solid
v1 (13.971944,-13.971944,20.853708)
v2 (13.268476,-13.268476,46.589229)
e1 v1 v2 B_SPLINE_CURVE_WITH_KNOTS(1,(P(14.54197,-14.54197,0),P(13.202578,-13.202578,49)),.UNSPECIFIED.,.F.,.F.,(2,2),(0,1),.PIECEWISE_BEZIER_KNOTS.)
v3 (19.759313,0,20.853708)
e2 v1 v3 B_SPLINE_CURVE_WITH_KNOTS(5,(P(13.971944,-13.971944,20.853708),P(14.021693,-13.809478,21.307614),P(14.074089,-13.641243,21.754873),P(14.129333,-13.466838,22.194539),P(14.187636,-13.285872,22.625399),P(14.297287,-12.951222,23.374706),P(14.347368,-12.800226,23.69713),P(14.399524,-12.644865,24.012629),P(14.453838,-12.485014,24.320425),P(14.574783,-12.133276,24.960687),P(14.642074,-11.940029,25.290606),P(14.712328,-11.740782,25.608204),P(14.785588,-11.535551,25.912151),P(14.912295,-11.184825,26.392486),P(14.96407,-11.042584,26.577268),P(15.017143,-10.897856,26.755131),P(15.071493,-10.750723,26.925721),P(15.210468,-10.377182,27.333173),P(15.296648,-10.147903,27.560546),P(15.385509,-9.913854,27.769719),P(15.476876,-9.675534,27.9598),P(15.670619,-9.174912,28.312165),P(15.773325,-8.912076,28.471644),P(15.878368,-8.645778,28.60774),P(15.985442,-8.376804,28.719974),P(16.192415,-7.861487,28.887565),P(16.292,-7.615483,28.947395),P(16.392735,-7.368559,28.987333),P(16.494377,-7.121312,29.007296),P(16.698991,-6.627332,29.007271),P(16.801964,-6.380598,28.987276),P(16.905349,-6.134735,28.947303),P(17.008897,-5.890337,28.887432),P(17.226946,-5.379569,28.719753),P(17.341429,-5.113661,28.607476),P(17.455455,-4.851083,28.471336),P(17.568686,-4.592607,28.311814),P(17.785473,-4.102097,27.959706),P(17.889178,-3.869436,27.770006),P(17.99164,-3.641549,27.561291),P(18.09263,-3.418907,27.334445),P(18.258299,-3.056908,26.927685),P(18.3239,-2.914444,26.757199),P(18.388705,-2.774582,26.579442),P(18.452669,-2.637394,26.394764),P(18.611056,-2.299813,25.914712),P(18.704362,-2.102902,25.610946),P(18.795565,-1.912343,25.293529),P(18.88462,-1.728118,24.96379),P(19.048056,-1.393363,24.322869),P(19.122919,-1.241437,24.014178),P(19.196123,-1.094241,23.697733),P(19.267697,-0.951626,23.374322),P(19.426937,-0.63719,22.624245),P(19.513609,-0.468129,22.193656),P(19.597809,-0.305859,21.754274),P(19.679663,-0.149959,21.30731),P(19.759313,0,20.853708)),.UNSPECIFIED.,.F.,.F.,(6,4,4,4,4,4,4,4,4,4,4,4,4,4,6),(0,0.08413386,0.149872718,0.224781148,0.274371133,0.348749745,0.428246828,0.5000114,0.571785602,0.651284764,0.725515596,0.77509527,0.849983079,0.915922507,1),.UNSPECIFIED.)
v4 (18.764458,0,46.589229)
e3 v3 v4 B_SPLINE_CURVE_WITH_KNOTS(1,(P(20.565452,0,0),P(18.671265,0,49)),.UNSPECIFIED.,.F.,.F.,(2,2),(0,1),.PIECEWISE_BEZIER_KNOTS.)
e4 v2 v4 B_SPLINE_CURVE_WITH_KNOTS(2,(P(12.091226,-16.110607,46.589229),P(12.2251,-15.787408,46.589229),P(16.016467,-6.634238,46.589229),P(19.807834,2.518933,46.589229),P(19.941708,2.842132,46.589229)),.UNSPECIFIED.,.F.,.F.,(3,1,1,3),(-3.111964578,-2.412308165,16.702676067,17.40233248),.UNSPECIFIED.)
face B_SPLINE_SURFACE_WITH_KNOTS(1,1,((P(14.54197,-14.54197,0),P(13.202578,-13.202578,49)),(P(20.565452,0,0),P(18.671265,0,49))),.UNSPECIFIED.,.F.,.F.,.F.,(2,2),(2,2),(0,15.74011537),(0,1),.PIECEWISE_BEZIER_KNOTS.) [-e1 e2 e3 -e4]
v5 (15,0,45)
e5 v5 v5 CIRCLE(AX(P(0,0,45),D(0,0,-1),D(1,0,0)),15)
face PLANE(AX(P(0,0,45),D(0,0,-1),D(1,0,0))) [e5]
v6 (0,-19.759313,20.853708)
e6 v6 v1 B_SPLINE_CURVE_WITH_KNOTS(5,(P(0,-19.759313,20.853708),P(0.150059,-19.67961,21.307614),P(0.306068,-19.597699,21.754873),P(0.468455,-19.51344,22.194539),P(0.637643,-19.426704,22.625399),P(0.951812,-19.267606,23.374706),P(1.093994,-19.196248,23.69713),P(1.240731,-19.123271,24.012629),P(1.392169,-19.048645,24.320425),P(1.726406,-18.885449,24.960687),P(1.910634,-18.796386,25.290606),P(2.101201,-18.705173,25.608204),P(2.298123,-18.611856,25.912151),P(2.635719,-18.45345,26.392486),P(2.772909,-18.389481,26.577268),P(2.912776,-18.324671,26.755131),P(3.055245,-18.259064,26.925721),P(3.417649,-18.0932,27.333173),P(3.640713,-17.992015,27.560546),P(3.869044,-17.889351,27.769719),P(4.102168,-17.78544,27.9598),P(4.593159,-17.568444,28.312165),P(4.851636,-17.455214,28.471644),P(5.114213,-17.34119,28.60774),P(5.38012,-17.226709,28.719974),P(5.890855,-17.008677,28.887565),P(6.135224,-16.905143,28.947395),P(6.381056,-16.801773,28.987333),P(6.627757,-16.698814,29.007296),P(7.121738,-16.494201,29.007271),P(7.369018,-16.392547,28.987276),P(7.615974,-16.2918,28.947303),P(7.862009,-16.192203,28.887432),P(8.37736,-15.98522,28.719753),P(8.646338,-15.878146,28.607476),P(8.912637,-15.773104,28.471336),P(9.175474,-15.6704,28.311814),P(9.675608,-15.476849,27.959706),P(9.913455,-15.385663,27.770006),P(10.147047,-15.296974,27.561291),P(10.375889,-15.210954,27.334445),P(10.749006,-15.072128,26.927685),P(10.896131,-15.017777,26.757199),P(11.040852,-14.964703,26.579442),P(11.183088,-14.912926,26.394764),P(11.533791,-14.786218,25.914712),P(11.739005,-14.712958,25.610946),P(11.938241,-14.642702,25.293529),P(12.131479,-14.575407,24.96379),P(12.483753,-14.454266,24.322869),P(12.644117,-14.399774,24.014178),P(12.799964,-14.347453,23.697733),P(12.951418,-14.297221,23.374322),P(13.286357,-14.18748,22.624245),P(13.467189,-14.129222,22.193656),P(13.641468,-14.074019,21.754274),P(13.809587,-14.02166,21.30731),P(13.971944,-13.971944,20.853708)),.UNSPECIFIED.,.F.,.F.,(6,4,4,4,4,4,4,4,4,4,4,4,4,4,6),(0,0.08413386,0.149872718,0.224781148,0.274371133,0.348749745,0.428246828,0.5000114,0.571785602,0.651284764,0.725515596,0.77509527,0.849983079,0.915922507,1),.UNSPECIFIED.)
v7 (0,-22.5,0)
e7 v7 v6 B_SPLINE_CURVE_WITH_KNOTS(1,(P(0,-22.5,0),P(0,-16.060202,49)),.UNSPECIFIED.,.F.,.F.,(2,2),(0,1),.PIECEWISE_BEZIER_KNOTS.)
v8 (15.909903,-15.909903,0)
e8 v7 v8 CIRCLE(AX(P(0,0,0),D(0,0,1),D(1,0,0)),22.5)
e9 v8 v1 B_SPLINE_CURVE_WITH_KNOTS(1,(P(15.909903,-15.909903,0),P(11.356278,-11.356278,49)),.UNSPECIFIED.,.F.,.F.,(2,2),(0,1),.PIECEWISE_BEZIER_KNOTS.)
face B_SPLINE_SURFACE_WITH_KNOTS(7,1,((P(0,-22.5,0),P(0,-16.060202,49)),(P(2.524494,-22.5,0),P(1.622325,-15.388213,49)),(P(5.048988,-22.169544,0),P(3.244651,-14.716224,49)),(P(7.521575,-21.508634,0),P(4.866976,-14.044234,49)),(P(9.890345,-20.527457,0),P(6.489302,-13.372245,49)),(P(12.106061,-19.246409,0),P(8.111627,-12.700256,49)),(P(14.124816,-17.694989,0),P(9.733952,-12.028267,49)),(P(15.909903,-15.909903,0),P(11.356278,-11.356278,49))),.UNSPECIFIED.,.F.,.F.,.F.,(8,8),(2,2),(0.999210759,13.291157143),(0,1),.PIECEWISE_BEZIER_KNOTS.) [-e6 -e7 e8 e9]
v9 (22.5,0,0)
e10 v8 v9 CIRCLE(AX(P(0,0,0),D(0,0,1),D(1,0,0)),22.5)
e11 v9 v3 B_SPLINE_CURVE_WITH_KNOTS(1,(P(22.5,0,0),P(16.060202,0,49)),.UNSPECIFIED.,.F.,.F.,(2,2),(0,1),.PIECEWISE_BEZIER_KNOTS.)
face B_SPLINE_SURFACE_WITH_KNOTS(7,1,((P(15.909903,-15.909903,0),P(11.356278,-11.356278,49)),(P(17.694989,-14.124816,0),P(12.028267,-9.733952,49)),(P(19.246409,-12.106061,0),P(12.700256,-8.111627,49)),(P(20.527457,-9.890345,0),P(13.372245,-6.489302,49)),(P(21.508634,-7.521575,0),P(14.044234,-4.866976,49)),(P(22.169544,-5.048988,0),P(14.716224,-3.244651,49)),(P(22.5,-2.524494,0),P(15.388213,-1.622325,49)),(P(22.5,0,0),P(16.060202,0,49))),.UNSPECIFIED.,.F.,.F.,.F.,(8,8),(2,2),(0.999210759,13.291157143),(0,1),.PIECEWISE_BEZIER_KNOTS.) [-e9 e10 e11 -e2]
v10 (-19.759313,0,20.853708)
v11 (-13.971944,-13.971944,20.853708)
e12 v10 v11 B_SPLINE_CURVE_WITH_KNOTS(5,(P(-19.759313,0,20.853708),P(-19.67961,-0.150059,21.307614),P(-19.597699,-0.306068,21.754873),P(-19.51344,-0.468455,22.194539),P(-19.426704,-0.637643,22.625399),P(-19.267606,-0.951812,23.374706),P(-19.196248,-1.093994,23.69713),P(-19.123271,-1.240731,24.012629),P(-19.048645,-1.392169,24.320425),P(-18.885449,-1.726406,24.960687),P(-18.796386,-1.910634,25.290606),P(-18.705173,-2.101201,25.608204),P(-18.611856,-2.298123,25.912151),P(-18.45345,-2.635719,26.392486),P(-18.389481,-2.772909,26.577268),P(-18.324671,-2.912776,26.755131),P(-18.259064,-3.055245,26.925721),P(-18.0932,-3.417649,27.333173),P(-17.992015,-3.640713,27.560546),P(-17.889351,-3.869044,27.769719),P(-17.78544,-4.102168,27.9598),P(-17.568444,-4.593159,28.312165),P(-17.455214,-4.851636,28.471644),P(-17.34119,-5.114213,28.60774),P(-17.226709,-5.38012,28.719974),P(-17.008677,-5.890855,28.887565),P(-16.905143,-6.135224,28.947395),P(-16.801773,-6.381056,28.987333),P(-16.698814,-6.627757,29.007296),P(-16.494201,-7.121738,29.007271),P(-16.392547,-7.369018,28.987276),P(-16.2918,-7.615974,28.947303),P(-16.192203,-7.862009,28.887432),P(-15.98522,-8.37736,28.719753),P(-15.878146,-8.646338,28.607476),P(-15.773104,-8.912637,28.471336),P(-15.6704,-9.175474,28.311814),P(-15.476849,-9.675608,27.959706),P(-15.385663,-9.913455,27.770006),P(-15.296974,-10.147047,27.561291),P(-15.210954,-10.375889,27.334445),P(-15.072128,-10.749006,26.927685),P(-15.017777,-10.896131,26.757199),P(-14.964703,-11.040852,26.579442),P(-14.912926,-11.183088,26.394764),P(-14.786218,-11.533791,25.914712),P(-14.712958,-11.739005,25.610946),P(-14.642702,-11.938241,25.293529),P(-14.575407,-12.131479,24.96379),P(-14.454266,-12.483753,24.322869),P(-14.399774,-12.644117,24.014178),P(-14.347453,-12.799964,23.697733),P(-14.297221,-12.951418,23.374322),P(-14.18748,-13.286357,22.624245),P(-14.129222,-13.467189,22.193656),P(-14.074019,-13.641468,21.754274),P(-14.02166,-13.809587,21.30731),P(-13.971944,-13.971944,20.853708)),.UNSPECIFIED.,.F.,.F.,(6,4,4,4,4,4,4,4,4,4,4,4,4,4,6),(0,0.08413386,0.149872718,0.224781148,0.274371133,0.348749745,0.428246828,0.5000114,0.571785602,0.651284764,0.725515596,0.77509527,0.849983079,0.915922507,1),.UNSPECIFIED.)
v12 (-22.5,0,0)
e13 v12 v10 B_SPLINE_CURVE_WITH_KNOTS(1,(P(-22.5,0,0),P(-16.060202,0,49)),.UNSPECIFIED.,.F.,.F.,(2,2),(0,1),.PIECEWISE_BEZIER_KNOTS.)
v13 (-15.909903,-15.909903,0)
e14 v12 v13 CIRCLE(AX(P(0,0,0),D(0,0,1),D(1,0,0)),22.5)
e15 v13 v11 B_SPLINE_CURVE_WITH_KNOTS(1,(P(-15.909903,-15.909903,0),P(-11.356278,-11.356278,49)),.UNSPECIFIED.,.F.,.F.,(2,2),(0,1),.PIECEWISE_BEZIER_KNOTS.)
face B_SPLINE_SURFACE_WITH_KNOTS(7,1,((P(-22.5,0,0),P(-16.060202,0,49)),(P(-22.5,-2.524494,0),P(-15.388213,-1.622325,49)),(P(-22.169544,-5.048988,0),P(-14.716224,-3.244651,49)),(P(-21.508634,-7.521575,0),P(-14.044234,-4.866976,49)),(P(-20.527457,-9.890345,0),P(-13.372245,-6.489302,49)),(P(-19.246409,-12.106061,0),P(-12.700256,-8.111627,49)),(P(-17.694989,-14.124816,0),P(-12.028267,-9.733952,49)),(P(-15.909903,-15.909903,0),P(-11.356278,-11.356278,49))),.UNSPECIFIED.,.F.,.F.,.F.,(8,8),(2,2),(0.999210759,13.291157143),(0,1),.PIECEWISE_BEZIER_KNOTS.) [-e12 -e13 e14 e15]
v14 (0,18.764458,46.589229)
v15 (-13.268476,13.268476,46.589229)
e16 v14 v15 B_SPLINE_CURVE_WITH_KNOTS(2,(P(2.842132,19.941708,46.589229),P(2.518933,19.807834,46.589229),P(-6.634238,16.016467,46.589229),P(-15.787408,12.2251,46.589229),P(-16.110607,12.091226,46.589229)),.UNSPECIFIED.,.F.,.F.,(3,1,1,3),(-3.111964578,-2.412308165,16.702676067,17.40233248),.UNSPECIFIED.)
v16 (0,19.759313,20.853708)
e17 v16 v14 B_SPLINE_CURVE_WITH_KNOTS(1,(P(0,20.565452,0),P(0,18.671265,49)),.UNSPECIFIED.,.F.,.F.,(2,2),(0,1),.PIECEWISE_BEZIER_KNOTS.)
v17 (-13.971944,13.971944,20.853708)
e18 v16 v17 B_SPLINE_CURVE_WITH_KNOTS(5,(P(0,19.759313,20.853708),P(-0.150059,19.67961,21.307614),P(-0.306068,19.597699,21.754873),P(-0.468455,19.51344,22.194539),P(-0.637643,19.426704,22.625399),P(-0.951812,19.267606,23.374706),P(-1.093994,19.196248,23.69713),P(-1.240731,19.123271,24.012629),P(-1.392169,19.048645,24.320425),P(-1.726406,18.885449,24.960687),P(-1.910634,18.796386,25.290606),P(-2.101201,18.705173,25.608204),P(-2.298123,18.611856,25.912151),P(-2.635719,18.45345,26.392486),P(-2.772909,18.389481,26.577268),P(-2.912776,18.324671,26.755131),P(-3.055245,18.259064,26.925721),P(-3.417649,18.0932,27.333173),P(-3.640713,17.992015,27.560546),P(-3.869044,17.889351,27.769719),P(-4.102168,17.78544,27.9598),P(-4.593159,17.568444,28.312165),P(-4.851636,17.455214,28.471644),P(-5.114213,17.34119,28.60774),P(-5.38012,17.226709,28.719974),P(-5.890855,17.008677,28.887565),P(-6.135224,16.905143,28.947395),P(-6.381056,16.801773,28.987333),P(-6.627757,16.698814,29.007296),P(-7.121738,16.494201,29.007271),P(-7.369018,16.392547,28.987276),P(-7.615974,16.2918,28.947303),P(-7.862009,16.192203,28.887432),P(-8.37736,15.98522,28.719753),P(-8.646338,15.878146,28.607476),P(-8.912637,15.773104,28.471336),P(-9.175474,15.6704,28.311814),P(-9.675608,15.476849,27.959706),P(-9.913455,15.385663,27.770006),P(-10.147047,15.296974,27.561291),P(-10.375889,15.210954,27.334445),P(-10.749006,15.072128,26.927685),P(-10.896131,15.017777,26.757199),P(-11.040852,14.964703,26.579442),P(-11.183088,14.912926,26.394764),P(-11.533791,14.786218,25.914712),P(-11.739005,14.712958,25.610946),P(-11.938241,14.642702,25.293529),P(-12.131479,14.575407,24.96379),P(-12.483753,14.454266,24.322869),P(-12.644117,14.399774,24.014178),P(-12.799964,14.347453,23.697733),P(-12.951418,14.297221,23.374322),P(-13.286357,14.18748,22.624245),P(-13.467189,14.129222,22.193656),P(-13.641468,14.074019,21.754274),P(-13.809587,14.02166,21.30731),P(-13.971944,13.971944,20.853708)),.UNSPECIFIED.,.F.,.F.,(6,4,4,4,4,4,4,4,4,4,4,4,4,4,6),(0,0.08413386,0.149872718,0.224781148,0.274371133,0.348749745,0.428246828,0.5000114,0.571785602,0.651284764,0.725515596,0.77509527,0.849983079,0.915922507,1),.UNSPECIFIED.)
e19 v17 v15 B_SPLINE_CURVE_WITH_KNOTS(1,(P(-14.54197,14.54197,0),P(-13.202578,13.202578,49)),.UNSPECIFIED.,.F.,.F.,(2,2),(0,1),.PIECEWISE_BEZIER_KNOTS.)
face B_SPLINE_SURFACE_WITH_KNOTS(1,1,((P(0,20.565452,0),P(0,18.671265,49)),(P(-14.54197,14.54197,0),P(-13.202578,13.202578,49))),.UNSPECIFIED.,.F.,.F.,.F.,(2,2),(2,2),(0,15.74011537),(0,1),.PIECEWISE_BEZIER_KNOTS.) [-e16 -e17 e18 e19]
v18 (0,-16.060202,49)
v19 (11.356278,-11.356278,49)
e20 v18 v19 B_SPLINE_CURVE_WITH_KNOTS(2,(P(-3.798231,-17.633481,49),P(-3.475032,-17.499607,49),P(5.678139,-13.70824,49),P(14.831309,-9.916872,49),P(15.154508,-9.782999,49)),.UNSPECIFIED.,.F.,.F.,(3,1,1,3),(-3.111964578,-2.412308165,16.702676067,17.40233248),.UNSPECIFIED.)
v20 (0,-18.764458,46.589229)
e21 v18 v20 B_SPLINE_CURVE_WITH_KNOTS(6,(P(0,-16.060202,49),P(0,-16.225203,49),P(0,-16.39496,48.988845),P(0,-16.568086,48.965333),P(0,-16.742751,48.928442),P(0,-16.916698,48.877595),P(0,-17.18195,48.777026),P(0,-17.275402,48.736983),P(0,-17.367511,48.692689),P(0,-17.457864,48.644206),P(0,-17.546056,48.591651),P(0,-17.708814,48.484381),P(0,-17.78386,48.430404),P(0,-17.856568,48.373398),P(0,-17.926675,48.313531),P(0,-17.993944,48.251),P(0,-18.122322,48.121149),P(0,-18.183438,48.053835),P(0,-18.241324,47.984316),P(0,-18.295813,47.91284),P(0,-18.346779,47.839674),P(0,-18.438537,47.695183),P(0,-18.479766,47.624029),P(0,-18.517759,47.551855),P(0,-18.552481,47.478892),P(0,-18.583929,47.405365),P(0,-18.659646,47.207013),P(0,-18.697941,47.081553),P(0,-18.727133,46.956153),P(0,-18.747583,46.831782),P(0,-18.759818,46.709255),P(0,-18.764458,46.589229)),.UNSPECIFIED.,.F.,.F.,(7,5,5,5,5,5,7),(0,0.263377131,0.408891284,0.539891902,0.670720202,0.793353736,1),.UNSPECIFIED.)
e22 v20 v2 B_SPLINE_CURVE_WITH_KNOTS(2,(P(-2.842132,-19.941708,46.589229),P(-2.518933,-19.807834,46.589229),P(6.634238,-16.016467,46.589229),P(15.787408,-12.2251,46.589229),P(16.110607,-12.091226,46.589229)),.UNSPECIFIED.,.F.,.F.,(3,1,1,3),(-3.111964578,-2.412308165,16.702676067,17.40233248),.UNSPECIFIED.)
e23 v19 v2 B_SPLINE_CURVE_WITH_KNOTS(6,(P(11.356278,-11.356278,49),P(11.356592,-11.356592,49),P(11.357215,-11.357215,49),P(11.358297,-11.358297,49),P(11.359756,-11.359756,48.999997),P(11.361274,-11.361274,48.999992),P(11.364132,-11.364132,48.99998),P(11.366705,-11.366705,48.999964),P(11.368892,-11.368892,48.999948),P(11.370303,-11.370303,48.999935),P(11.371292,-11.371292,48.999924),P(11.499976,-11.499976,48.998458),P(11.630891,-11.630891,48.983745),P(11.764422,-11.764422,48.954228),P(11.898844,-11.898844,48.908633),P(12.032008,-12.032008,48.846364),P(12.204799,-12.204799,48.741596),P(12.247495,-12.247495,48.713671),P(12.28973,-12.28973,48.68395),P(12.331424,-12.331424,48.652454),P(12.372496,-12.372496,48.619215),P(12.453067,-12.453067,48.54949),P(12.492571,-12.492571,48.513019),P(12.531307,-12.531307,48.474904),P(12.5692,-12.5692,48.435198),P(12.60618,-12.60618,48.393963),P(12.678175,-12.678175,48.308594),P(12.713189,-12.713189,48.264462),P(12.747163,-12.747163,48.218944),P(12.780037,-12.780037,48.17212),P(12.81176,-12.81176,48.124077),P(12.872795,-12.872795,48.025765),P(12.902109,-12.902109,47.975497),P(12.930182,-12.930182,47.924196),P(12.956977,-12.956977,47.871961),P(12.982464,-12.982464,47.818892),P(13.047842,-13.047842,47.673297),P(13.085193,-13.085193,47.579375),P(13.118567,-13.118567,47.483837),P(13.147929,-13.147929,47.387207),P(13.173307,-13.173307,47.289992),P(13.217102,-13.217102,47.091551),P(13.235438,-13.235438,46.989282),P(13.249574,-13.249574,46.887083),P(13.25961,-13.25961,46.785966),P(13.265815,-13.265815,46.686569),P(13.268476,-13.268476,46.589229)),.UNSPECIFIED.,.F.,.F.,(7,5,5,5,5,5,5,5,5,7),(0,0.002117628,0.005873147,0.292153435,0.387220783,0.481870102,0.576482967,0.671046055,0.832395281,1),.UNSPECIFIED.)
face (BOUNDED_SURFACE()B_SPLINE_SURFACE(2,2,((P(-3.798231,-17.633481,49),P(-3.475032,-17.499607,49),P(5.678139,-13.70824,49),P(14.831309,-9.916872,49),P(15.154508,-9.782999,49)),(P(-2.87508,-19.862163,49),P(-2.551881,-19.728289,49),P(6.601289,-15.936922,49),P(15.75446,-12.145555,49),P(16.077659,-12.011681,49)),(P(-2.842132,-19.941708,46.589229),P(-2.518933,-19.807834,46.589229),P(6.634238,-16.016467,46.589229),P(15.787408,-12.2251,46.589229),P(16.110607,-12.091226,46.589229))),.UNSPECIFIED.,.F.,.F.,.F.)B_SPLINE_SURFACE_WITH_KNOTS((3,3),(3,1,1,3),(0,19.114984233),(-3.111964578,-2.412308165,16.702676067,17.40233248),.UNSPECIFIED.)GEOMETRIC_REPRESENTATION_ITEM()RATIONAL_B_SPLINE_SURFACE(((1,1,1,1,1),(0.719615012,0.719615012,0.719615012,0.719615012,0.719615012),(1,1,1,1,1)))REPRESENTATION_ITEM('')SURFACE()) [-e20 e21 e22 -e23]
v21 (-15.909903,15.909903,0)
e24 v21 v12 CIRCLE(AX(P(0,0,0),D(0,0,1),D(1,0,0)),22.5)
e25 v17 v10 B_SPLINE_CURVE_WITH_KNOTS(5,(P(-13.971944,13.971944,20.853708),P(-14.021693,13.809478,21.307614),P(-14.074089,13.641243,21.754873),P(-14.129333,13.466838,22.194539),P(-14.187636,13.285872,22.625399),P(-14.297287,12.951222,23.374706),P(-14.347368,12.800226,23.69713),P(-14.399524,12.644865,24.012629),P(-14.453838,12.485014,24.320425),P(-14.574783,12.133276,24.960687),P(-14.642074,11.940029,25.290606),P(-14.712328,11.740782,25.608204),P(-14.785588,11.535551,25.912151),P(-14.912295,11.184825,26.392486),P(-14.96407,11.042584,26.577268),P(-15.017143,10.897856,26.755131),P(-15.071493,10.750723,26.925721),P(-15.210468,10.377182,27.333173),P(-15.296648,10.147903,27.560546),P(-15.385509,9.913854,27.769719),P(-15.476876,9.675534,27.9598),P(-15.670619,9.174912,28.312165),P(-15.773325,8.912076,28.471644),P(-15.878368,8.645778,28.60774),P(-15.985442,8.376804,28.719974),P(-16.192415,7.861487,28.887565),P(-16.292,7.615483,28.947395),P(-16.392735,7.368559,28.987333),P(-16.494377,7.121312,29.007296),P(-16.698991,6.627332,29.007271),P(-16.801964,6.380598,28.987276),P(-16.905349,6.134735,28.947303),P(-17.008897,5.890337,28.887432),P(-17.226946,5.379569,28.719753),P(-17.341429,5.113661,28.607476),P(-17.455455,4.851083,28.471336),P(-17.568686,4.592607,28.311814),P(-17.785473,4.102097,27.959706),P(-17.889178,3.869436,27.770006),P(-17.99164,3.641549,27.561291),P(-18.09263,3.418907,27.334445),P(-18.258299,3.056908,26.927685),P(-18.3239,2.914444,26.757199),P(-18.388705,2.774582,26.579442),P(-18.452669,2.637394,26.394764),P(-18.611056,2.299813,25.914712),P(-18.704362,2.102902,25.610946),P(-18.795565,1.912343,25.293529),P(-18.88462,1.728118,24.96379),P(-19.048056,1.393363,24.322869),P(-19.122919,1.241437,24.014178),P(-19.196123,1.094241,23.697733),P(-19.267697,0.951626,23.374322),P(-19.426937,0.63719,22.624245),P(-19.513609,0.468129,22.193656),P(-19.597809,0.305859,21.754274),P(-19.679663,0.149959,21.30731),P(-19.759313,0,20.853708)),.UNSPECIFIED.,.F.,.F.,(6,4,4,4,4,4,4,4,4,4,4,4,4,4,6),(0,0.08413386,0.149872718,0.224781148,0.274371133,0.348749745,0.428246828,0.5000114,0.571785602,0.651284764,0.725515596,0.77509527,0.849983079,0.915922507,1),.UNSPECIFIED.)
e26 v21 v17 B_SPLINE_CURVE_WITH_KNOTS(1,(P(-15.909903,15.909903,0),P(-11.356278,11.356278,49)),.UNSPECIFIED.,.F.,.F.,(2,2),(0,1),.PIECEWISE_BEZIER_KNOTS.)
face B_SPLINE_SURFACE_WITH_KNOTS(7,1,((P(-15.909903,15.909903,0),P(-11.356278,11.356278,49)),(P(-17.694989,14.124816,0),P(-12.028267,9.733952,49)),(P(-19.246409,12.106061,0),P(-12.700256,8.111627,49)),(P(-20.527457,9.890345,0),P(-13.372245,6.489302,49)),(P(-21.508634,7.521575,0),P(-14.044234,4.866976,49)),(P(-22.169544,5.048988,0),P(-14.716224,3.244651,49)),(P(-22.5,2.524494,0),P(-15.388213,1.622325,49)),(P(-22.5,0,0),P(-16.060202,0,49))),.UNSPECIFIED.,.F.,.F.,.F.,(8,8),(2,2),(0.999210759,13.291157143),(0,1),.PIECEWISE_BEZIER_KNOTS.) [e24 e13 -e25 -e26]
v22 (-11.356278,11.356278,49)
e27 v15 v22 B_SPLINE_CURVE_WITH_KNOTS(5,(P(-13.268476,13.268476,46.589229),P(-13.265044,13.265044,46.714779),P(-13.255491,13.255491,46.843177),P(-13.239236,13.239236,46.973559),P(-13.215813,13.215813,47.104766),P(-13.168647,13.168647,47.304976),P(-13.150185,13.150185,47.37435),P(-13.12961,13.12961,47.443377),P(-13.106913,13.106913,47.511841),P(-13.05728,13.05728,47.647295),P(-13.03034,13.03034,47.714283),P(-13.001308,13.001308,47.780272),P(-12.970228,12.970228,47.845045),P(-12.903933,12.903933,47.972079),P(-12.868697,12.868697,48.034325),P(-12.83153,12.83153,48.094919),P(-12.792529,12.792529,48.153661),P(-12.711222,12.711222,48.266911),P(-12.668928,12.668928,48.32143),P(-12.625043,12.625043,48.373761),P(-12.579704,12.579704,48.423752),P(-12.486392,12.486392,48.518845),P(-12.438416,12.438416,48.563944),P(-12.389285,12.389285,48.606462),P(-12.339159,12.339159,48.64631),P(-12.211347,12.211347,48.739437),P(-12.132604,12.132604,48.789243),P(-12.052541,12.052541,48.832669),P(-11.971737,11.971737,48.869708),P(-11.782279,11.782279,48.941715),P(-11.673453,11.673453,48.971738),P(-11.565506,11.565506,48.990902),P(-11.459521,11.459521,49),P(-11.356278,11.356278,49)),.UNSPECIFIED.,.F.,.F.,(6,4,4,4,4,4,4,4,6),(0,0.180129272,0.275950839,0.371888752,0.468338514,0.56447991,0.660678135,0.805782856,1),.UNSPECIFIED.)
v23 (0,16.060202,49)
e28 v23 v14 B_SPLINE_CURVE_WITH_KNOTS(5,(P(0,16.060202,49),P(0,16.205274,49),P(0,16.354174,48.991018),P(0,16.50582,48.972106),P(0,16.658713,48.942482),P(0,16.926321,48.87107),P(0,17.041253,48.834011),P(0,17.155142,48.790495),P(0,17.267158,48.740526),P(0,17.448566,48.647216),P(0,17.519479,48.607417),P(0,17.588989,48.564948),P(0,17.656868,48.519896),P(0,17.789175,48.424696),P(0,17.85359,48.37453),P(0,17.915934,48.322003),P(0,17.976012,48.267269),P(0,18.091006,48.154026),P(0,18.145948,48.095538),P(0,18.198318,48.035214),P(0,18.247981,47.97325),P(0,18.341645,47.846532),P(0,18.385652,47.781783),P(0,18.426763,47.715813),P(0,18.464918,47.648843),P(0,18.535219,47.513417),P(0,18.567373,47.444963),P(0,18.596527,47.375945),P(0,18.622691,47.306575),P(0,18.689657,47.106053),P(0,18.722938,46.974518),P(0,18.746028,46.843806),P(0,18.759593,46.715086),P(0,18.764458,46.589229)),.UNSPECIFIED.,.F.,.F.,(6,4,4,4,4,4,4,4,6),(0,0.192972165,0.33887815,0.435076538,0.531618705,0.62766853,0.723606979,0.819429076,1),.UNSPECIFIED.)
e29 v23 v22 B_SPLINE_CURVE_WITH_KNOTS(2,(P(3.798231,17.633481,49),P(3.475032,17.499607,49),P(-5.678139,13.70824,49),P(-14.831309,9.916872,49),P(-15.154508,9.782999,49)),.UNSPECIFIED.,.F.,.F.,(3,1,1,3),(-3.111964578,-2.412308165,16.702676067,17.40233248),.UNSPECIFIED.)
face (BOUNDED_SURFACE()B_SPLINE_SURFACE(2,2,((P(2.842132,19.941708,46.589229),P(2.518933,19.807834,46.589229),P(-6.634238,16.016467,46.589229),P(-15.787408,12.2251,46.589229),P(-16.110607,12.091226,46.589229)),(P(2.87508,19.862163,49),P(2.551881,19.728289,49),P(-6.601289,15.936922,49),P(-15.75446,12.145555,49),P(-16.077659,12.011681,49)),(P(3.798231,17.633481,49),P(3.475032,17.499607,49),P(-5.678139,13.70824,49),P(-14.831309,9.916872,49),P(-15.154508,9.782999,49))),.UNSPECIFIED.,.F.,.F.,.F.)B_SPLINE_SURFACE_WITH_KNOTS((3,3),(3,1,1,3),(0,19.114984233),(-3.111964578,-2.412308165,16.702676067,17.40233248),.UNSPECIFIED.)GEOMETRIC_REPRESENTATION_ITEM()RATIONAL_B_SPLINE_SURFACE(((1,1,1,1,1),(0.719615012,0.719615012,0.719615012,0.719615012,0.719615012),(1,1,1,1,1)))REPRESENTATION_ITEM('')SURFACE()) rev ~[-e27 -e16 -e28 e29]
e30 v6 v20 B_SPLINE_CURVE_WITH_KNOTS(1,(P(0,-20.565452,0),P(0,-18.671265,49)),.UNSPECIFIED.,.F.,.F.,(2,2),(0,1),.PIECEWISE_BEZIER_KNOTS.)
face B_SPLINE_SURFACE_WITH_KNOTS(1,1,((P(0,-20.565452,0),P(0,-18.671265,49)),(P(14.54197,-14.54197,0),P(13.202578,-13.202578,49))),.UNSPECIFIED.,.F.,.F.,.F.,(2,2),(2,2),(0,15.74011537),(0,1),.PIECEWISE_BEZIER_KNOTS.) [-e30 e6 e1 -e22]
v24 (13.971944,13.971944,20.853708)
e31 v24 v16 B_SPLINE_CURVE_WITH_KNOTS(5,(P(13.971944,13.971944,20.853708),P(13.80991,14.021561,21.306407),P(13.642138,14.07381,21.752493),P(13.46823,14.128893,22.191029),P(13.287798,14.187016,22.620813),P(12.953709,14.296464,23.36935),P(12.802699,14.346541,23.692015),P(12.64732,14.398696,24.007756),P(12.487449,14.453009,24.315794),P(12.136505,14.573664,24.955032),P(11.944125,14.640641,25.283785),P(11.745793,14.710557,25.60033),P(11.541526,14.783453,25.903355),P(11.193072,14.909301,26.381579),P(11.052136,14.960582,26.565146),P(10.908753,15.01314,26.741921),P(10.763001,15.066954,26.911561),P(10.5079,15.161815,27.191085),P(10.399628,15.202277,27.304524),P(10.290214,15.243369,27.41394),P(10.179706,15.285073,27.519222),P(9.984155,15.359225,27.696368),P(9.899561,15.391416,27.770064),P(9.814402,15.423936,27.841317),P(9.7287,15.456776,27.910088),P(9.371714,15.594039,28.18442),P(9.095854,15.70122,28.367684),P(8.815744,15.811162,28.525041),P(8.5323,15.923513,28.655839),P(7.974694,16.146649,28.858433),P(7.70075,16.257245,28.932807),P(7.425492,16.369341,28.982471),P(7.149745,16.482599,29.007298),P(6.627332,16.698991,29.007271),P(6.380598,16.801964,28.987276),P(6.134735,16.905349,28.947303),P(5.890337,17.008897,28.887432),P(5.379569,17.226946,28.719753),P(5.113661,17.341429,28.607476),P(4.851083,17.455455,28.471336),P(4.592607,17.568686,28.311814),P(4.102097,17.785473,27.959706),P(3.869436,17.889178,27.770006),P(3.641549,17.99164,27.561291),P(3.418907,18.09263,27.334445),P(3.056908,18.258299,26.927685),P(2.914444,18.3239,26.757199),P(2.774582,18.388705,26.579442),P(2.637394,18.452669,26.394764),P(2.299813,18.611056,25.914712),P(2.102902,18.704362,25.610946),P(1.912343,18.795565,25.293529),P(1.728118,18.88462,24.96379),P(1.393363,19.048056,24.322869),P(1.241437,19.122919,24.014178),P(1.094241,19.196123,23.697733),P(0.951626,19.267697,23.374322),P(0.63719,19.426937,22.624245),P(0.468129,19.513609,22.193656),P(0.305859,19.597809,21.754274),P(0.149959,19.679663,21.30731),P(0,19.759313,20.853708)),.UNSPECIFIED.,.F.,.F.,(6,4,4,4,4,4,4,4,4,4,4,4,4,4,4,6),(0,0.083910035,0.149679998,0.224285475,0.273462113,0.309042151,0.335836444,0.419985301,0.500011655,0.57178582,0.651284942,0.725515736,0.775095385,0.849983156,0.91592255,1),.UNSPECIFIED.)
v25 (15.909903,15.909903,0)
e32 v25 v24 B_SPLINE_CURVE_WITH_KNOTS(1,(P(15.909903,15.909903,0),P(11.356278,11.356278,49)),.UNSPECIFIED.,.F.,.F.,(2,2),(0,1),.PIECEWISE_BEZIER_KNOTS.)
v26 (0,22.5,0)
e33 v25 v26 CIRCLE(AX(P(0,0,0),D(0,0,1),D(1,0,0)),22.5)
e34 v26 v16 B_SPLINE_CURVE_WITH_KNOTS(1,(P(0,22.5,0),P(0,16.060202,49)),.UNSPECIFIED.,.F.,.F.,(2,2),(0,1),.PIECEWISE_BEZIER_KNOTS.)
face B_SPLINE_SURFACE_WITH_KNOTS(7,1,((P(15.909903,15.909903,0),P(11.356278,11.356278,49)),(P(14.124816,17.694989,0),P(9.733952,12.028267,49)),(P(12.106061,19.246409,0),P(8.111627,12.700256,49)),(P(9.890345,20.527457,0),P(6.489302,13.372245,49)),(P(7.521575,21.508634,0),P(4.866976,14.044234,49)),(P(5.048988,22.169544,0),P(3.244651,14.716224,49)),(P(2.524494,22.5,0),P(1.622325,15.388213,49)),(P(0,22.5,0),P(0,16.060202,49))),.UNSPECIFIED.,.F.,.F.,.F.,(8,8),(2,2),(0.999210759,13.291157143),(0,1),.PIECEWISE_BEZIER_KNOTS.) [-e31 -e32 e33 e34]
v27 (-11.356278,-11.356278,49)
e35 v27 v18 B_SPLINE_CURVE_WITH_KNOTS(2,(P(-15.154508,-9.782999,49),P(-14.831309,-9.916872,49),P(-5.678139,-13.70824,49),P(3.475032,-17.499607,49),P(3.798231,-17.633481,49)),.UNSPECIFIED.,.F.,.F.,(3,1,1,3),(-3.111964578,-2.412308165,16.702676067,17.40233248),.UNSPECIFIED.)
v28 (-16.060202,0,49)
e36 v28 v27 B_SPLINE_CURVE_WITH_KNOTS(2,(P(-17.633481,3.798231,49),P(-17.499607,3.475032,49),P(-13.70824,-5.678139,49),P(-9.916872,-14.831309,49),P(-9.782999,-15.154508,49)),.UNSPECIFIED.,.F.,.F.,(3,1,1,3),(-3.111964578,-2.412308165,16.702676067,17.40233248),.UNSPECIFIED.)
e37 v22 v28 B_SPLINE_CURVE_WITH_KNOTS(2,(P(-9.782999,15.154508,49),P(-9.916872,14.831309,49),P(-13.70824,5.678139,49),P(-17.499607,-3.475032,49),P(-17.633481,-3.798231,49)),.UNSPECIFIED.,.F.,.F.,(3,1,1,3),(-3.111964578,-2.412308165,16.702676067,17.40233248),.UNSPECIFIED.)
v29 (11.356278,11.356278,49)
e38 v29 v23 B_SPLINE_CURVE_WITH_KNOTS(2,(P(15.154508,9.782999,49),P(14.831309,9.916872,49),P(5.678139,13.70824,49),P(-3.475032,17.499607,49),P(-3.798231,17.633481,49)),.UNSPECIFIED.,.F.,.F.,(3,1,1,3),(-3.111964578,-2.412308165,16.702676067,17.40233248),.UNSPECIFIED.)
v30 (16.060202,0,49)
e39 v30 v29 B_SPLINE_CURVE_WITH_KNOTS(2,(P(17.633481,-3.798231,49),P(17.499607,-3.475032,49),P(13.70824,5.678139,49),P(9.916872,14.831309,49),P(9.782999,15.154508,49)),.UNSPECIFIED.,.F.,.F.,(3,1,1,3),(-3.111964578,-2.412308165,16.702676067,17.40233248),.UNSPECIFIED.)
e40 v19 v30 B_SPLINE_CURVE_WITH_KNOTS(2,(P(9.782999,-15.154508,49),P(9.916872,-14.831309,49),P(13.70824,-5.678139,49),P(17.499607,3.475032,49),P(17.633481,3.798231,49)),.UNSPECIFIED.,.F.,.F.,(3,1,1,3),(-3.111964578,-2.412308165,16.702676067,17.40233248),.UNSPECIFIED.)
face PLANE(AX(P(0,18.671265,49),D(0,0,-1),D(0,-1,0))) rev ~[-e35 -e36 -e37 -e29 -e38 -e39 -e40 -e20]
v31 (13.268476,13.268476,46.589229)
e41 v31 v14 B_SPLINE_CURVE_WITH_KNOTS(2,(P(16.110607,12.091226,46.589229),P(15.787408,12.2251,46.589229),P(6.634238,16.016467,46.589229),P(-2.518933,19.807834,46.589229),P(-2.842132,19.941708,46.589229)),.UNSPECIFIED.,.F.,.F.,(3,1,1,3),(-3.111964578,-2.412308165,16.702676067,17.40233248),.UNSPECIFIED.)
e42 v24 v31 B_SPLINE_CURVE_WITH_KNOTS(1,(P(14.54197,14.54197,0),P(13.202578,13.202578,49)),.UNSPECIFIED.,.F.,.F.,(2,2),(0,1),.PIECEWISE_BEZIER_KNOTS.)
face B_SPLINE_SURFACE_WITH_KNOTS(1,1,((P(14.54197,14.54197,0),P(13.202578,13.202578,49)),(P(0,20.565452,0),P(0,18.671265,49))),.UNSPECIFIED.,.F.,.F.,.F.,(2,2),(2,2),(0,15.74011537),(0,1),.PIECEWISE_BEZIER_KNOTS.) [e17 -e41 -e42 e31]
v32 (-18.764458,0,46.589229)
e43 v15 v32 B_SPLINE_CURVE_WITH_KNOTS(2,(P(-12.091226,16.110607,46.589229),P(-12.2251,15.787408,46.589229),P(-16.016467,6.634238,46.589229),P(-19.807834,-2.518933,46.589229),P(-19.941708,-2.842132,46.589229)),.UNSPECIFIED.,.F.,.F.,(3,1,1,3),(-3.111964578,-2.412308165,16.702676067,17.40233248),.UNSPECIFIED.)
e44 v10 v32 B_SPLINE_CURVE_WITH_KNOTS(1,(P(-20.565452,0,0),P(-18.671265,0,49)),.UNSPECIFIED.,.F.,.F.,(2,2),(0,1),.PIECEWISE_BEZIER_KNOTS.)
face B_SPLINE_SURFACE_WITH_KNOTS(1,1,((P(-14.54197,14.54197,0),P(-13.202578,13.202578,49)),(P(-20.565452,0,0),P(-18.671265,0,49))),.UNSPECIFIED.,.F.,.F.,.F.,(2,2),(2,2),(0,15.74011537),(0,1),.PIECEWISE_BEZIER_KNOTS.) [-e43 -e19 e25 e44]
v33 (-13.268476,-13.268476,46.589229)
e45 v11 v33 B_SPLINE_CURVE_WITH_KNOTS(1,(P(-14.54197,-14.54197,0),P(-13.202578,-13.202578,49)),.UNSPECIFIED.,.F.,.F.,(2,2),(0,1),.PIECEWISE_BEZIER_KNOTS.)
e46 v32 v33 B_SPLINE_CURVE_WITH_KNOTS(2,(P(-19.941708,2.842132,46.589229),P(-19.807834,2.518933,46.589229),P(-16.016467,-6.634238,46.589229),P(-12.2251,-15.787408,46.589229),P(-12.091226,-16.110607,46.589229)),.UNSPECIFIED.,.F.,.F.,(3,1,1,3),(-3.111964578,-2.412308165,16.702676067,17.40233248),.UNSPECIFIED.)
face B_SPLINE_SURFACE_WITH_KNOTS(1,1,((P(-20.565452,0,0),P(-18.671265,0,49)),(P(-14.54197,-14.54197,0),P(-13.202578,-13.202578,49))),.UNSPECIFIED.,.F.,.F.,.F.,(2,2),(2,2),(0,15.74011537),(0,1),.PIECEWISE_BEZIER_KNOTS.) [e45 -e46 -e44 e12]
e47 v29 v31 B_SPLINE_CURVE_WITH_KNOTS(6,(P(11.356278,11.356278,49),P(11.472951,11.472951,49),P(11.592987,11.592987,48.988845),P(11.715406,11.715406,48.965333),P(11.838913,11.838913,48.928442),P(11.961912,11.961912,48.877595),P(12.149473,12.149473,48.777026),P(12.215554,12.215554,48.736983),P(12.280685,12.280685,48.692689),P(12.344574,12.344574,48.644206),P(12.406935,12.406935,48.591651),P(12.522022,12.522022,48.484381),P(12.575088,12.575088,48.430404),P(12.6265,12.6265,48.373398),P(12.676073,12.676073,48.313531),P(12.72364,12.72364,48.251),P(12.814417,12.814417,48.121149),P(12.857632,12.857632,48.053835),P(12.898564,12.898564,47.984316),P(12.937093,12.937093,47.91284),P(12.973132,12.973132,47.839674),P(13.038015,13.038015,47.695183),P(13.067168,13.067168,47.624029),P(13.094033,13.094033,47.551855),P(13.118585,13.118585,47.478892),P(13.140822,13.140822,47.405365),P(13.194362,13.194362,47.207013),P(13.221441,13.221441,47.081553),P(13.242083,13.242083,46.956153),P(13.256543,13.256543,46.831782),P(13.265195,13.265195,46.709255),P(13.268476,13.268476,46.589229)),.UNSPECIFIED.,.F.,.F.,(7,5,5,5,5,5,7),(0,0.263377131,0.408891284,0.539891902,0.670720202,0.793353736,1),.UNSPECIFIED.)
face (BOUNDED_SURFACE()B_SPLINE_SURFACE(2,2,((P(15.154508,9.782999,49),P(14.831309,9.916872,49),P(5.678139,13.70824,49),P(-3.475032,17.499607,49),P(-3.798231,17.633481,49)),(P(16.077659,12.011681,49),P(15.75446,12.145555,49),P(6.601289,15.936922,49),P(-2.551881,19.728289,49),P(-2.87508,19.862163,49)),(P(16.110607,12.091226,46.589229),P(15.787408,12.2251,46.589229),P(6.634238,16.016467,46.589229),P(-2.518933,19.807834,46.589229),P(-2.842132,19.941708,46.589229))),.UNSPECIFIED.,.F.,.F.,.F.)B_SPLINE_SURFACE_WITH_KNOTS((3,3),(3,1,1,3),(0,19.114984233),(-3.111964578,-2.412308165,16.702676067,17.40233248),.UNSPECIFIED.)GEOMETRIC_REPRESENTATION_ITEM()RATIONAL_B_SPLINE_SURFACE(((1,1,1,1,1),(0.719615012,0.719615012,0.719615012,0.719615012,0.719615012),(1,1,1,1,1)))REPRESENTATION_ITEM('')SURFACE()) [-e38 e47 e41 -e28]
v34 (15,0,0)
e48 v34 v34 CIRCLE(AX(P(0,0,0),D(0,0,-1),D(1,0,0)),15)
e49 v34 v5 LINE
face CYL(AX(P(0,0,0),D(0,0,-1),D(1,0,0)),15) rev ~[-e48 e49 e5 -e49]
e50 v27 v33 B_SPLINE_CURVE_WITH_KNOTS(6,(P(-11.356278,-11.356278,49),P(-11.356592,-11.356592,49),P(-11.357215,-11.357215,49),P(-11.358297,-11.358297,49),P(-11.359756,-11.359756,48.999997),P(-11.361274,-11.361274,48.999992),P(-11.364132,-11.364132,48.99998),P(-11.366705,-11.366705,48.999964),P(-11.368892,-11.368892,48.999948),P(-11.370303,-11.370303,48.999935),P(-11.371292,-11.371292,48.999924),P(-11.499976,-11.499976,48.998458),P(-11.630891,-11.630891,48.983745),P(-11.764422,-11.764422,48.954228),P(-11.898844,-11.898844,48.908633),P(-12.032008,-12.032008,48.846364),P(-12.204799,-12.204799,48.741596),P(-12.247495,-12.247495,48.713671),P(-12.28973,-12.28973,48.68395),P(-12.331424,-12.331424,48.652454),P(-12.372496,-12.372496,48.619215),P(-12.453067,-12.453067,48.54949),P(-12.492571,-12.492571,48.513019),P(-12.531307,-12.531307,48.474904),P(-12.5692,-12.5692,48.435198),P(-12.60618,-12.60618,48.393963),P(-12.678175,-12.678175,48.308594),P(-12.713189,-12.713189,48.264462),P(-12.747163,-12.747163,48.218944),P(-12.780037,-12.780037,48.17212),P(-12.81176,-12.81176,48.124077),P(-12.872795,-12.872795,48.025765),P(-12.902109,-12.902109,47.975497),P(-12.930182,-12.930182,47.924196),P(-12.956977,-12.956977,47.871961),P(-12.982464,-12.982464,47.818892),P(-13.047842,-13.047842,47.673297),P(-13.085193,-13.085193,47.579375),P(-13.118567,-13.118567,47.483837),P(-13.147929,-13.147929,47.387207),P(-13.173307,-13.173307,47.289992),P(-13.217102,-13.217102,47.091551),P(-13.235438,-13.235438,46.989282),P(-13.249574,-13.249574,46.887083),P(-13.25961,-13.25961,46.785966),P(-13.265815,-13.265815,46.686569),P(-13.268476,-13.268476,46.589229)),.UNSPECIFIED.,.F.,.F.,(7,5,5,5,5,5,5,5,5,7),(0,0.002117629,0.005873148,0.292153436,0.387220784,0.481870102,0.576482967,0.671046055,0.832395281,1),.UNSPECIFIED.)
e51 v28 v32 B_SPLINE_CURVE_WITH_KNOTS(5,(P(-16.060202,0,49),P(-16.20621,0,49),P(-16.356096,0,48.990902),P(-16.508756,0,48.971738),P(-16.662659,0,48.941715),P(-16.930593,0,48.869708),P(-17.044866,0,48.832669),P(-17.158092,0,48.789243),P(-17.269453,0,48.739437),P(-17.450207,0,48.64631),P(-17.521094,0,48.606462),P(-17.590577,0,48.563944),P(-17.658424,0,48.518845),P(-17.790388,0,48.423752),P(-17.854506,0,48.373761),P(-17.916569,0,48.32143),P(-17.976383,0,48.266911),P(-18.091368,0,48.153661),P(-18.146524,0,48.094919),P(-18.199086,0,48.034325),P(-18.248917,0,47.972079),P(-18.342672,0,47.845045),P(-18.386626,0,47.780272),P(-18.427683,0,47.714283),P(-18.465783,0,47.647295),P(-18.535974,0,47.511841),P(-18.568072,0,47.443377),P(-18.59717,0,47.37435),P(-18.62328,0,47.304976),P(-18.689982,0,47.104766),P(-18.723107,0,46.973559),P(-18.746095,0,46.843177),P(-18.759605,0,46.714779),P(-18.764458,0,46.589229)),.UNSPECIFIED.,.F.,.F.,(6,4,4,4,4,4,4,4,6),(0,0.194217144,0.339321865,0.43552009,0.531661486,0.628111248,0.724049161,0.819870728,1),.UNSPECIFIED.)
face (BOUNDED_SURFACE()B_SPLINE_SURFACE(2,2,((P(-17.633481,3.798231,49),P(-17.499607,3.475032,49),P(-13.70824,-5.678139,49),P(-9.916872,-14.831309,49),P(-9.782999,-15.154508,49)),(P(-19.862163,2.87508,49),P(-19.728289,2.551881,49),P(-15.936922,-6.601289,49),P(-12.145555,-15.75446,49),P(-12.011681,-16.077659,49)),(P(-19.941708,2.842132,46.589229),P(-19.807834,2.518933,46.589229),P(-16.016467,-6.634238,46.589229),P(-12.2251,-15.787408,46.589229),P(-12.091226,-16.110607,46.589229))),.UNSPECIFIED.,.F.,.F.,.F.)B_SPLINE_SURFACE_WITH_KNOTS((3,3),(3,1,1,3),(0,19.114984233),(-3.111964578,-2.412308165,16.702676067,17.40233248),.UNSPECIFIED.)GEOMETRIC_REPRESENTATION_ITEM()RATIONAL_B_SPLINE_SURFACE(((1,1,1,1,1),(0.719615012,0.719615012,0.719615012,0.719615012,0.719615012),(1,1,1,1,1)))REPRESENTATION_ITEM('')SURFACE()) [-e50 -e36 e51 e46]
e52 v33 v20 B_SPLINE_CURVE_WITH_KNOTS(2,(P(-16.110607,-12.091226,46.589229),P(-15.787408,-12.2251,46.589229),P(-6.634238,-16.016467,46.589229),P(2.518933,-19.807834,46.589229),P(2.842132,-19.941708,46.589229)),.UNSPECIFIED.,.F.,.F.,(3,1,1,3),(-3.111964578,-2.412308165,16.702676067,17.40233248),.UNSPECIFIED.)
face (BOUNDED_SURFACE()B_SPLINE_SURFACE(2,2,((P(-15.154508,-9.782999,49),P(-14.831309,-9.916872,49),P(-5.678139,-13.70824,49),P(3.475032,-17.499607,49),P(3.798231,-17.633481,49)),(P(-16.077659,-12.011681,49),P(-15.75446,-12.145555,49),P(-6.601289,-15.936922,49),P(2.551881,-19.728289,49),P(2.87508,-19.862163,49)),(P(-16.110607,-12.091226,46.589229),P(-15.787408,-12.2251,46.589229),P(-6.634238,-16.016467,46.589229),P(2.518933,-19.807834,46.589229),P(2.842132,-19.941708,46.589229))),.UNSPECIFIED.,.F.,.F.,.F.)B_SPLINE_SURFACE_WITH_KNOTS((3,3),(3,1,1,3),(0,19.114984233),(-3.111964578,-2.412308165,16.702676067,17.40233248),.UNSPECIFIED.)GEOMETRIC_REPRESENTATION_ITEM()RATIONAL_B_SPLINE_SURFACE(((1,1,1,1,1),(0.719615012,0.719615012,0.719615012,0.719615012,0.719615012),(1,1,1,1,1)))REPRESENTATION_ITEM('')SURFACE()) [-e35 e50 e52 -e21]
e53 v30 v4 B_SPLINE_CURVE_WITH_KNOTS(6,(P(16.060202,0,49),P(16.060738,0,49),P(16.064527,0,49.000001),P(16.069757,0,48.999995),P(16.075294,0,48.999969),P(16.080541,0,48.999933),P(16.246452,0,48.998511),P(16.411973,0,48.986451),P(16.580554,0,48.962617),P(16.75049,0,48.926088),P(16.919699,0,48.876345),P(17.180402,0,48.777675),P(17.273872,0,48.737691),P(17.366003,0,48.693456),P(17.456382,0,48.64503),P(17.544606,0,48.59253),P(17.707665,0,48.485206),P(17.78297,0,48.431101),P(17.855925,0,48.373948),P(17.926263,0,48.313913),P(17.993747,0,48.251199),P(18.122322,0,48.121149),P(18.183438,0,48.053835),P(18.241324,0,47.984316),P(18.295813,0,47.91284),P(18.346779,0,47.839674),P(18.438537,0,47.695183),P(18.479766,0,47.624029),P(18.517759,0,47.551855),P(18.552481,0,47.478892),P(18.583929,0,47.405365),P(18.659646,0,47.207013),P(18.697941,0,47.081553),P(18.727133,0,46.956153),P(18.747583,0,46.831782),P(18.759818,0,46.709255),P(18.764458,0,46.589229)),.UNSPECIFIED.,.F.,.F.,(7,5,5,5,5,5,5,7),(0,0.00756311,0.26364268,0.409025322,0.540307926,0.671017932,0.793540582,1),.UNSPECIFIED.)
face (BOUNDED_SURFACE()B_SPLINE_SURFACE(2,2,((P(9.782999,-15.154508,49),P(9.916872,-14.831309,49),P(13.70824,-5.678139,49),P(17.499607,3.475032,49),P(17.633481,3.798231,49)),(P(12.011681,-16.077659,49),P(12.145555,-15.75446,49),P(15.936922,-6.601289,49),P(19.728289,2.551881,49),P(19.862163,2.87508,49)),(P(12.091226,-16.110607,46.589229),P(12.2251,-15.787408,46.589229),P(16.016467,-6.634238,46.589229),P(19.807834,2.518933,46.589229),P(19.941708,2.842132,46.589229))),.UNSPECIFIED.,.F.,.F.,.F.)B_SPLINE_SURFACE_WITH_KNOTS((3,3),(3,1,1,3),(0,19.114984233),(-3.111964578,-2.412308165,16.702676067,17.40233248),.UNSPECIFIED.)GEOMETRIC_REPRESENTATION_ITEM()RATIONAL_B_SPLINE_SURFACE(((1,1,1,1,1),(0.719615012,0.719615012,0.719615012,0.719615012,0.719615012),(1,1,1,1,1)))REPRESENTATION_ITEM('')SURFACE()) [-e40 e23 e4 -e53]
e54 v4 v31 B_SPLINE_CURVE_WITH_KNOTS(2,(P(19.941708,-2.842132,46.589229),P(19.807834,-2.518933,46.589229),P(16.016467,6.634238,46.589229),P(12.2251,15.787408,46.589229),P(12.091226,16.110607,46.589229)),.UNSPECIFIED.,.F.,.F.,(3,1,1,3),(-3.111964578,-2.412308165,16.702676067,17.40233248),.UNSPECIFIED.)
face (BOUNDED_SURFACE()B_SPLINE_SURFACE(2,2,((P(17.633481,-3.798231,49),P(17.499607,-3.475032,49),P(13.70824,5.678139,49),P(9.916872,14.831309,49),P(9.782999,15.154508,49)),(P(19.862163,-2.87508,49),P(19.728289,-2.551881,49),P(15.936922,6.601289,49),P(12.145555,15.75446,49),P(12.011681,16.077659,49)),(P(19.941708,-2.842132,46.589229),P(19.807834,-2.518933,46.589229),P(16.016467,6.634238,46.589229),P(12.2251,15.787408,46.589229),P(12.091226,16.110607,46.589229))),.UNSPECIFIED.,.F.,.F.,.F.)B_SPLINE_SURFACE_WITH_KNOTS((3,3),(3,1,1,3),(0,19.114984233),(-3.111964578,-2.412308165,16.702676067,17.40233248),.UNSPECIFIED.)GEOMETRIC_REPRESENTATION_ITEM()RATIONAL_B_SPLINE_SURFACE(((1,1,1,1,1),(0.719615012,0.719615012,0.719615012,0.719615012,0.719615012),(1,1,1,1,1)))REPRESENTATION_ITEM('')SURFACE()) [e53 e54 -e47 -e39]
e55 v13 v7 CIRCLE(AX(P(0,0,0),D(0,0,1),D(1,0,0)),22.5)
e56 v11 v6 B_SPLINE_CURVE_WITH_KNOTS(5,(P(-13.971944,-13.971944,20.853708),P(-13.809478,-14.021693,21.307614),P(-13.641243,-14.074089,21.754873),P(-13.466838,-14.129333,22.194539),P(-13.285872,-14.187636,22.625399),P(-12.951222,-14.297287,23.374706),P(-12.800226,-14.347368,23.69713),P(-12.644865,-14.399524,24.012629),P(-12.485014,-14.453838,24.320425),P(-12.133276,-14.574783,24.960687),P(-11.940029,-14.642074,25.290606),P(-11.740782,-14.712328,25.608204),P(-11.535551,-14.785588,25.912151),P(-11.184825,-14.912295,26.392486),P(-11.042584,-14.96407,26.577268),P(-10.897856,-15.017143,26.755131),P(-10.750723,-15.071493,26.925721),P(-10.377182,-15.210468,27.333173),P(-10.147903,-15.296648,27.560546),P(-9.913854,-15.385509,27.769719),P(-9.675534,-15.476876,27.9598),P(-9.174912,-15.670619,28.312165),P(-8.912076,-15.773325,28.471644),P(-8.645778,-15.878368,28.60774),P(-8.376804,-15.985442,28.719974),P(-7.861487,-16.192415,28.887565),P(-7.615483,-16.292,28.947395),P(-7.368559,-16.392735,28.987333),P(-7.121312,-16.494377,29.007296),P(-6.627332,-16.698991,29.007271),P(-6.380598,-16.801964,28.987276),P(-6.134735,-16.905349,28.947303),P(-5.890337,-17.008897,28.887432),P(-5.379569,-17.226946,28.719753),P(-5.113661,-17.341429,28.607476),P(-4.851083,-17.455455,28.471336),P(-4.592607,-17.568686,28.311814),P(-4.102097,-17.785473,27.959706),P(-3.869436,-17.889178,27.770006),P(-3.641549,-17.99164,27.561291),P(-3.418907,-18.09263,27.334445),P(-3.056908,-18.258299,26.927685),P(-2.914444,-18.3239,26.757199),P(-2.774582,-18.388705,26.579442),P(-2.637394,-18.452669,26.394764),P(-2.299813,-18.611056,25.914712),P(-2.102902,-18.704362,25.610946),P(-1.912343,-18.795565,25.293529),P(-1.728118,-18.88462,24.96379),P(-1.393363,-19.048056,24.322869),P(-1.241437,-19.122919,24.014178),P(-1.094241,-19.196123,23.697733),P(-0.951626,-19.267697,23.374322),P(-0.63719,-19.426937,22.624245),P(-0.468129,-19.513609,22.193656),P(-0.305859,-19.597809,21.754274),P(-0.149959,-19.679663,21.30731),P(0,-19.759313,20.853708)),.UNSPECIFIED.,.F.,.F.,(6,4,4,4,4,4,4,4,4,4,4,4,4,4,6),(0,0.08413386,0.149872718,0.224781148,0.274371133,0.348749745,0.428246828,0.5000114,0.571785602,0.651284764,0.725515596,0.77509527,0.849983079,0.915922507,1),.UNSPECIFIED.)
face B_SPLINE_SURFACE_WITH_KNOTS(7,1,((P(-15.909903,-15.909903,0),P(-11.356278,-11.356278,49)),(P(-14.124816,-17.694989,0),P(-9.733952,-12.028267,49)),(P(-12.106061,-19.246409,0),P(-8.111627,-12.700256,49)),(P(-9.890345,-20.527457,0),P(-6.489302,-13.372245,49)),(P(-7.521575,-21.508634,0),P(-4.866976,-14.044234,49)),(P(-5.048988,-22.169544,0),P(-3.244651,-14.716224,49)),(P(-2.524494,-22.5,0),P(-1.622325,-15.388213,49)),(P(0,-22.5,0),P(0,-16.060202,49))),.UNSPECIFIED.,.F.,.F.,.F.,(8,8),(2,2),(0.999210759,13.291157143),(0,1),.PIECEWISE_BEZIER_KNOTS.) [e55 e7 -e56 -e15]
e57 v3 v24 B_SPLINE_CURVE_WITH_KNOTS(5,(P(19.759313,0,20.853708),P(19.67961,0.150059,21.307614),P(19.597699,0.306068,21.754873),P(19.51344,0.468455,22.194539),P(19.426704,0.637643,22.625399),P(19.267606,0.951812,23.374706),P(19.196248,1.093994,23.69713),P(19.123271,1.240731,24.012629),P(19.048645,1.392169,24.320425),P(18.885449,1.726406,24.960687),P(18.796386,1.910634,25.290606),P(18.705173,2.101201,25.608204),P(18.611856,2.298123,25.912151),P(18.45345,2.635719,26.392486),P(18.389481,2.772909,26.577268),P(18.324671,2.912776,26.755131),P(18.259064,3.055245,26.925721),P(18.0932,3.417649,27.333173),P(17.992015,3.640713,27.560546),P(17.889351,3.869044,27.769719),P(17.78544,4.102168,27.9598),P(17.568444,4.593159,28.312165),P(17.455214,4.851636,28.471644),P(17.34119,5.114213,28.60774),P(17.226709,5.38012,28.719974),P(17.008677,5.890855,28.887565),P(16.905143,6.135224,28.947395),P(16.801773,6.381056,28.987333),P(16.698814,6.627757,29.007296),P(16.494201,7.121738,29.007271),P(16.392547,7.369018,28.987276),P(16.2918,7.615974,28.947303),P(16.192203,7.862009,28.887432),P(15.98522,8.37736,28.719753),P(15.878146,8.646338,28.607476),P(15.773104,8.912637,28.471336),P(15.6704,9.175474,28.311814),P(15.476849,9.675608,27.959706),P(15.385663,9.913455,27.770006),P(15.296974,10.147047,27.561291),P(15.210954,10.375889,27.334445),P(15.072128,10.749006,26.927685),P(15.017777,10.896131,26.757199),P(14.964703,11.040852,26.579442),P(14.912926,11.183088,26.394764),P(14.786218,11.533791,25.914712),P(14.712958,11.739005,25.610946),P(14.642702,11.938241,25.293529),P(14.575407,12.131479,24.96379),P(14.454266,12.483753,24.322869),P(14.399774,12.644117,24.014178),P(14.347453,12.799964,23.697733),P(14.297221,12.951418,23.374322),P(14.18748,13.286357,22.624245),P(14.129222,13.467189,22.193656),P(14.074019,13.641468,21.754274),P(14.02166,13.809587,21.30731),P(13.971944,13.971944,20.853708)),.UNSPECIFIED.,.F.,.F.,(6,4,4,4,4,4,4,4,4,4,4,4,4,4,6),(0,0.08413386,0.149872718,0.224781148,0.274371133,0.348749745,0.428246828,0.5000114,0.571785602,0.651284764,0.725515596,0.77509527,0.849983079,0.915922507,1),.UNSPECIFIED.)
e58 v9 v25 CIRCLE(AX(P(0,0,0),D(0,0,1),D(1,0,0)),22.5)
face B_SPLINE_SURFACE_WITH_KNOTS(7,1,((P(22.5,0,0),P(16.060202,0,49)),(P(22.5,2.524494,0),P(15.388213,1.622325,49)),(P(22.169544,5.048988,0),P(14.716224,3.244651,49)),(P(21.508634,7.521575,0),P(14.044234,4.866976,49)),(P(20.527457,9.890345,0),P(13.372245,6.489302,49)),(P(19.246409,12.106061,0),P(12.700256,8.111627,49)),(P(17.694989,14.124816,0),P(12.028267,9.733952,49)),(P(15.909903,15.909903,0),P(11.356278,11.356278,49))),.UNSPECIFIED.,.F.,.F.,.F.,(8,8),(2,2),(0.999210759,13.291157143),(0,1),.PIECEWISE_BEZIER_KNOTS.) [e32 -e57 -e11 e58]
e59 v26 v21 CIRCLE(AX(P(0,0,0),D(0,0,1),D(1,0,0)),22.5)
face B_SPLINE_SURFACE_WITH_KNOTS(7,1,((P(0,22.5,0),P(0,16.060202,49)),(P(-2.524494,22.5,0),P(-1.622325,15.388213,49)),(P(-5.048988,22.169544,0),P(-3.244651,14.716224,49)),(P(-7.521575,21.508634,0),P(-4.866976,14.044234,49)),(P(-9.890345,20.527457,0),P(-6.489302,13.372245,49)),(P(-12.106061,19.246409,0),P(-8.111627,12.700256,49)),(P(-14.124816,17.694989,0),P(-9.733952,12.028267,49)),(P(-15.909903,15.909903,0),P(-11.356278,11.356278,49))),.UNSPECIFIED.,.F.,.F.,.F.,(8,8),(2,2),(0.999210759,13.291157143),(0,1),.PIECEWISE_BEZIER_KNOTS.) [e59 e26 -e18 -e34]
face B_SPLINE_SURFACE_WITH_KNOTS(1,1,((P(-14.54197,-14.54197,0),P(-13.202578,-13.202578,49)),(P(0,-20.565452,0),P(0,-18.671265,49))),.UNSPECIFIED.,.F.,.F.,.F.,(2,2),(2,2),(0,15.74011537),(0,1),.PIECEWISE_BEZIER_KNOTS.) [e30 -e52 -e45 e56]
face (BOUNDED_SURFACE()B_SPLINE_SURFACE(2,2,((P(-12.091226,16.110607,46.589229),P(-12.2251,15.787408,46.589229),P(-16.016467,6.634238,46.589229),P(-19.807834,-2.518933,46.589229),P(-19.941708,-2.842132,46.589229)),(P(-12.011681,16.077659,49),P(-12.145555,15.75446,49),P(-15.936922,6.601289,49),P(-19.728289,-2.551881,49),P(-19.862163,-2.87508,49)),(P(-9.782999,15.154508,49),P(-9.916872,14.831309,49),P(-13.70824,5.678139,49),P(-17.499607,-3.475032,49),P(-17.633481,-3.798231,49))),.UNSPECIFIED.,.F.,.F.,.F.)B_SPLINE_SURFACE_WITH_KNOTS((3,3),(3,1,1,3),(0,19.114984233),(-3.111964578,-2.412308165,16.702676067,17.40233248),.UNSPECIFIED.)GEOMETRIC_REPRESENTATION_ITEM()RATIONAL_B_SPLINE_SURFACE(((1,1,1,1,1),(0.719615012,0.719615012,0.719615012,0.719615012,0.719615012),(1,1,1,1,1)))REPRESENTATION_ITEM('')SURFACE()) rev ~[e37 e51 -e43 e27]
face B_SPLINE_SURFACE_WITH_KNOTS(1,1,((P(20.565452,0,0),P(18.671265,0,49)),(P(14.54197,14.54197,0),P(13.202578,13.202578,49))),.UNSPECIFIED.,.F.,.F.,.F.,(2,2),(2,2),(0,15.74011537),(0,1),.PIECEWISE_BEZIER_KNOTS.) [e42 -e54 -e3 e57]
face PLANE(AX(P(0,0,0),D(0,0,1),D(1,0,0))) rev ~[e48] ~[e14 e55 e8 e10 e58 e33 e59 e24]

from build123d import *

# Parameters (mm, degrees)
F5_R      = 15
F7_R      = 13.25
F9_R      = 2.5
F10_R     = 22.5
F12_R     = 15
F13_DEPTH = 45


with BuildPart() as f4:
    # F1 (on Top) → F4 section 0
    with BuildSketch(Plane.XY):
        Polygon((0, 20.5654518056), (-14.5419704299, 14.5419704299), (-20.5654518056, 0), (-14.5419704299, -14.5419704299), (0, -20.5654518056), (14.5419704299, -14.5419704299), (20.5654518056, 0), (14.5419704299, 14.5419704299), align=None)
    # F3 (on offset) → F4 section 1
    with BuildSketch(Plane.XY.offset(49)):
        Polygon((0, 18.671265455), (-13.2025784166, 13.2025784166), (-18.671265455, 0), (-13.2025784166, -13.2025784166), (0, -18.671265455), (13.2025784166, -13.2025784166), (18.671265455, 0), (13.2025784166, 13.2025784166), align=None)
    loft()

    # F5 (on Top) → F8 section 0
    with BuildSketch(Plane.XY):
        Circle(F5_R)
    # F7 (on offset) → F8 section 1
    with BuildSketch(Plane.XY.offset(45)):
        Circle(F7_R)
    loft(mode=Mode.SUBTRACT)

    # F9
    f9_edges = [f4.edges().sort_by_distance(p)[0] for p in [
        (-15.936922, -6.601289, 49),
        (-6.601289, -15.936922, 49),
        (6.601289, -15.936922, 49),
        (15.936922, -6.601289, 49),
        (15.936922, 6.601289, 49),
        (6.601289, 15.936922, 49),
        (-6.601289, 15.936922, 49),
        (-15.936922, 6.601289, 49),
    ]]
    fillet(f9_edges, radius=F9_R)

    # F10 (on Top) → F11 section 0
    with BuildSketch(Plane.XY):
        Circle(F10_R)
    # F4_face (on face) → F11 section 1
    with BuildSketch(Plane.XY.offset(49)):
        with BuildLine():
            add(Edge.make_bspline(
                [(-16.0602019121, 0), (-13.7082397957, -5.6781388396), (-11.3562776793, -11.3562776793)],
                knots=[0.9992107587, 0.9992107587, 0.9992107587, 13.2911571431, 13.2911571431, 13.2911571431], degree=2))
            add(Edge.make_bspline(
                [(-11.3562776793, -11.3562776793), (-5.6781388396, -13.7082397957), (0, -16.0602019121)],
                knots=[0.9992107587, 0.9992107587, 0.9992107587, 13.2911571431, 13.2911571431, 13.2911571431], degree=2))
            add(Edge.make_bspline(
                [(0, -16.0602019121), (5.6781388396, -13.7082397957), (11.3562776793, -11.3562776793)],
                knots=[0.9992107587, 0.9992107587, 0.9992107587, 13.2911571431, 13.2911571431, 13.2911571431], degree=2))
            add(Edge.make_bspline(
                [(11.3562776793, -11.3562776793), (13.7082397957, -5.6781388396), (16.0602019121, 0)],
                knots=[0.9992107587, 0.9992107587, 0.9992107587, 13.2911571431, 13.2911571431, 13.2911571431], degree=2))
            add(Edge.make_bspline(
                [(16.0602019121, 0), (13.7082397957, 5.6781388396), (11.3562776793, 11.3562776793)],
                knots=[0.9992107587, 0.9992107587, 0.9992107587, 13.2911571431, 13.2911571431, 13.2911571431], degree=2))
            add(Edge.make_bspline(
                [(11.3562776793, 11.3562776793), (5.6781388396, 13.7082397957), (0, 16.0602019121)],
                knots=[0.9992107587, 0.9992107587, 0.9992107587, 13.2911571431, 13.2911571431, 13.2911571431], degree=2))
            add(Edge.make_bspline(
                [(0, 16.0602019121), (-5.6781388396, 13.7082397957), (-11.3562776793, 11.3562776793)],
                knots=[0.9992107587, 0.9992107587, 0.9992107587, 13.2911571431, 13.2911571431, 13.2911571431], degree=2))
            add(Edge.make_bspline(
                [(-11.3562776793, 11.3562776793), (-13.7082397957, 5.6781388396), (-16.0602019121, 0)],
                knots=[0.9992107587, 0.9992107587, 0.9992107587, 13.2911571431, 13.2911571431, 13.2911571431], degree=2))
        make_face()
    loft()

    # F12 (on face) → F13 (cut)
    with BuildSketch(Plane(origin=(0, 0, 0), x_dir=(1, 0, 0), z_dir=(0, 0, -1))):
        Circle(F12_R)
    extrude(amount=-F13_DEPTH, mode=Mode.SUBTRACT)


solid = f4.part
